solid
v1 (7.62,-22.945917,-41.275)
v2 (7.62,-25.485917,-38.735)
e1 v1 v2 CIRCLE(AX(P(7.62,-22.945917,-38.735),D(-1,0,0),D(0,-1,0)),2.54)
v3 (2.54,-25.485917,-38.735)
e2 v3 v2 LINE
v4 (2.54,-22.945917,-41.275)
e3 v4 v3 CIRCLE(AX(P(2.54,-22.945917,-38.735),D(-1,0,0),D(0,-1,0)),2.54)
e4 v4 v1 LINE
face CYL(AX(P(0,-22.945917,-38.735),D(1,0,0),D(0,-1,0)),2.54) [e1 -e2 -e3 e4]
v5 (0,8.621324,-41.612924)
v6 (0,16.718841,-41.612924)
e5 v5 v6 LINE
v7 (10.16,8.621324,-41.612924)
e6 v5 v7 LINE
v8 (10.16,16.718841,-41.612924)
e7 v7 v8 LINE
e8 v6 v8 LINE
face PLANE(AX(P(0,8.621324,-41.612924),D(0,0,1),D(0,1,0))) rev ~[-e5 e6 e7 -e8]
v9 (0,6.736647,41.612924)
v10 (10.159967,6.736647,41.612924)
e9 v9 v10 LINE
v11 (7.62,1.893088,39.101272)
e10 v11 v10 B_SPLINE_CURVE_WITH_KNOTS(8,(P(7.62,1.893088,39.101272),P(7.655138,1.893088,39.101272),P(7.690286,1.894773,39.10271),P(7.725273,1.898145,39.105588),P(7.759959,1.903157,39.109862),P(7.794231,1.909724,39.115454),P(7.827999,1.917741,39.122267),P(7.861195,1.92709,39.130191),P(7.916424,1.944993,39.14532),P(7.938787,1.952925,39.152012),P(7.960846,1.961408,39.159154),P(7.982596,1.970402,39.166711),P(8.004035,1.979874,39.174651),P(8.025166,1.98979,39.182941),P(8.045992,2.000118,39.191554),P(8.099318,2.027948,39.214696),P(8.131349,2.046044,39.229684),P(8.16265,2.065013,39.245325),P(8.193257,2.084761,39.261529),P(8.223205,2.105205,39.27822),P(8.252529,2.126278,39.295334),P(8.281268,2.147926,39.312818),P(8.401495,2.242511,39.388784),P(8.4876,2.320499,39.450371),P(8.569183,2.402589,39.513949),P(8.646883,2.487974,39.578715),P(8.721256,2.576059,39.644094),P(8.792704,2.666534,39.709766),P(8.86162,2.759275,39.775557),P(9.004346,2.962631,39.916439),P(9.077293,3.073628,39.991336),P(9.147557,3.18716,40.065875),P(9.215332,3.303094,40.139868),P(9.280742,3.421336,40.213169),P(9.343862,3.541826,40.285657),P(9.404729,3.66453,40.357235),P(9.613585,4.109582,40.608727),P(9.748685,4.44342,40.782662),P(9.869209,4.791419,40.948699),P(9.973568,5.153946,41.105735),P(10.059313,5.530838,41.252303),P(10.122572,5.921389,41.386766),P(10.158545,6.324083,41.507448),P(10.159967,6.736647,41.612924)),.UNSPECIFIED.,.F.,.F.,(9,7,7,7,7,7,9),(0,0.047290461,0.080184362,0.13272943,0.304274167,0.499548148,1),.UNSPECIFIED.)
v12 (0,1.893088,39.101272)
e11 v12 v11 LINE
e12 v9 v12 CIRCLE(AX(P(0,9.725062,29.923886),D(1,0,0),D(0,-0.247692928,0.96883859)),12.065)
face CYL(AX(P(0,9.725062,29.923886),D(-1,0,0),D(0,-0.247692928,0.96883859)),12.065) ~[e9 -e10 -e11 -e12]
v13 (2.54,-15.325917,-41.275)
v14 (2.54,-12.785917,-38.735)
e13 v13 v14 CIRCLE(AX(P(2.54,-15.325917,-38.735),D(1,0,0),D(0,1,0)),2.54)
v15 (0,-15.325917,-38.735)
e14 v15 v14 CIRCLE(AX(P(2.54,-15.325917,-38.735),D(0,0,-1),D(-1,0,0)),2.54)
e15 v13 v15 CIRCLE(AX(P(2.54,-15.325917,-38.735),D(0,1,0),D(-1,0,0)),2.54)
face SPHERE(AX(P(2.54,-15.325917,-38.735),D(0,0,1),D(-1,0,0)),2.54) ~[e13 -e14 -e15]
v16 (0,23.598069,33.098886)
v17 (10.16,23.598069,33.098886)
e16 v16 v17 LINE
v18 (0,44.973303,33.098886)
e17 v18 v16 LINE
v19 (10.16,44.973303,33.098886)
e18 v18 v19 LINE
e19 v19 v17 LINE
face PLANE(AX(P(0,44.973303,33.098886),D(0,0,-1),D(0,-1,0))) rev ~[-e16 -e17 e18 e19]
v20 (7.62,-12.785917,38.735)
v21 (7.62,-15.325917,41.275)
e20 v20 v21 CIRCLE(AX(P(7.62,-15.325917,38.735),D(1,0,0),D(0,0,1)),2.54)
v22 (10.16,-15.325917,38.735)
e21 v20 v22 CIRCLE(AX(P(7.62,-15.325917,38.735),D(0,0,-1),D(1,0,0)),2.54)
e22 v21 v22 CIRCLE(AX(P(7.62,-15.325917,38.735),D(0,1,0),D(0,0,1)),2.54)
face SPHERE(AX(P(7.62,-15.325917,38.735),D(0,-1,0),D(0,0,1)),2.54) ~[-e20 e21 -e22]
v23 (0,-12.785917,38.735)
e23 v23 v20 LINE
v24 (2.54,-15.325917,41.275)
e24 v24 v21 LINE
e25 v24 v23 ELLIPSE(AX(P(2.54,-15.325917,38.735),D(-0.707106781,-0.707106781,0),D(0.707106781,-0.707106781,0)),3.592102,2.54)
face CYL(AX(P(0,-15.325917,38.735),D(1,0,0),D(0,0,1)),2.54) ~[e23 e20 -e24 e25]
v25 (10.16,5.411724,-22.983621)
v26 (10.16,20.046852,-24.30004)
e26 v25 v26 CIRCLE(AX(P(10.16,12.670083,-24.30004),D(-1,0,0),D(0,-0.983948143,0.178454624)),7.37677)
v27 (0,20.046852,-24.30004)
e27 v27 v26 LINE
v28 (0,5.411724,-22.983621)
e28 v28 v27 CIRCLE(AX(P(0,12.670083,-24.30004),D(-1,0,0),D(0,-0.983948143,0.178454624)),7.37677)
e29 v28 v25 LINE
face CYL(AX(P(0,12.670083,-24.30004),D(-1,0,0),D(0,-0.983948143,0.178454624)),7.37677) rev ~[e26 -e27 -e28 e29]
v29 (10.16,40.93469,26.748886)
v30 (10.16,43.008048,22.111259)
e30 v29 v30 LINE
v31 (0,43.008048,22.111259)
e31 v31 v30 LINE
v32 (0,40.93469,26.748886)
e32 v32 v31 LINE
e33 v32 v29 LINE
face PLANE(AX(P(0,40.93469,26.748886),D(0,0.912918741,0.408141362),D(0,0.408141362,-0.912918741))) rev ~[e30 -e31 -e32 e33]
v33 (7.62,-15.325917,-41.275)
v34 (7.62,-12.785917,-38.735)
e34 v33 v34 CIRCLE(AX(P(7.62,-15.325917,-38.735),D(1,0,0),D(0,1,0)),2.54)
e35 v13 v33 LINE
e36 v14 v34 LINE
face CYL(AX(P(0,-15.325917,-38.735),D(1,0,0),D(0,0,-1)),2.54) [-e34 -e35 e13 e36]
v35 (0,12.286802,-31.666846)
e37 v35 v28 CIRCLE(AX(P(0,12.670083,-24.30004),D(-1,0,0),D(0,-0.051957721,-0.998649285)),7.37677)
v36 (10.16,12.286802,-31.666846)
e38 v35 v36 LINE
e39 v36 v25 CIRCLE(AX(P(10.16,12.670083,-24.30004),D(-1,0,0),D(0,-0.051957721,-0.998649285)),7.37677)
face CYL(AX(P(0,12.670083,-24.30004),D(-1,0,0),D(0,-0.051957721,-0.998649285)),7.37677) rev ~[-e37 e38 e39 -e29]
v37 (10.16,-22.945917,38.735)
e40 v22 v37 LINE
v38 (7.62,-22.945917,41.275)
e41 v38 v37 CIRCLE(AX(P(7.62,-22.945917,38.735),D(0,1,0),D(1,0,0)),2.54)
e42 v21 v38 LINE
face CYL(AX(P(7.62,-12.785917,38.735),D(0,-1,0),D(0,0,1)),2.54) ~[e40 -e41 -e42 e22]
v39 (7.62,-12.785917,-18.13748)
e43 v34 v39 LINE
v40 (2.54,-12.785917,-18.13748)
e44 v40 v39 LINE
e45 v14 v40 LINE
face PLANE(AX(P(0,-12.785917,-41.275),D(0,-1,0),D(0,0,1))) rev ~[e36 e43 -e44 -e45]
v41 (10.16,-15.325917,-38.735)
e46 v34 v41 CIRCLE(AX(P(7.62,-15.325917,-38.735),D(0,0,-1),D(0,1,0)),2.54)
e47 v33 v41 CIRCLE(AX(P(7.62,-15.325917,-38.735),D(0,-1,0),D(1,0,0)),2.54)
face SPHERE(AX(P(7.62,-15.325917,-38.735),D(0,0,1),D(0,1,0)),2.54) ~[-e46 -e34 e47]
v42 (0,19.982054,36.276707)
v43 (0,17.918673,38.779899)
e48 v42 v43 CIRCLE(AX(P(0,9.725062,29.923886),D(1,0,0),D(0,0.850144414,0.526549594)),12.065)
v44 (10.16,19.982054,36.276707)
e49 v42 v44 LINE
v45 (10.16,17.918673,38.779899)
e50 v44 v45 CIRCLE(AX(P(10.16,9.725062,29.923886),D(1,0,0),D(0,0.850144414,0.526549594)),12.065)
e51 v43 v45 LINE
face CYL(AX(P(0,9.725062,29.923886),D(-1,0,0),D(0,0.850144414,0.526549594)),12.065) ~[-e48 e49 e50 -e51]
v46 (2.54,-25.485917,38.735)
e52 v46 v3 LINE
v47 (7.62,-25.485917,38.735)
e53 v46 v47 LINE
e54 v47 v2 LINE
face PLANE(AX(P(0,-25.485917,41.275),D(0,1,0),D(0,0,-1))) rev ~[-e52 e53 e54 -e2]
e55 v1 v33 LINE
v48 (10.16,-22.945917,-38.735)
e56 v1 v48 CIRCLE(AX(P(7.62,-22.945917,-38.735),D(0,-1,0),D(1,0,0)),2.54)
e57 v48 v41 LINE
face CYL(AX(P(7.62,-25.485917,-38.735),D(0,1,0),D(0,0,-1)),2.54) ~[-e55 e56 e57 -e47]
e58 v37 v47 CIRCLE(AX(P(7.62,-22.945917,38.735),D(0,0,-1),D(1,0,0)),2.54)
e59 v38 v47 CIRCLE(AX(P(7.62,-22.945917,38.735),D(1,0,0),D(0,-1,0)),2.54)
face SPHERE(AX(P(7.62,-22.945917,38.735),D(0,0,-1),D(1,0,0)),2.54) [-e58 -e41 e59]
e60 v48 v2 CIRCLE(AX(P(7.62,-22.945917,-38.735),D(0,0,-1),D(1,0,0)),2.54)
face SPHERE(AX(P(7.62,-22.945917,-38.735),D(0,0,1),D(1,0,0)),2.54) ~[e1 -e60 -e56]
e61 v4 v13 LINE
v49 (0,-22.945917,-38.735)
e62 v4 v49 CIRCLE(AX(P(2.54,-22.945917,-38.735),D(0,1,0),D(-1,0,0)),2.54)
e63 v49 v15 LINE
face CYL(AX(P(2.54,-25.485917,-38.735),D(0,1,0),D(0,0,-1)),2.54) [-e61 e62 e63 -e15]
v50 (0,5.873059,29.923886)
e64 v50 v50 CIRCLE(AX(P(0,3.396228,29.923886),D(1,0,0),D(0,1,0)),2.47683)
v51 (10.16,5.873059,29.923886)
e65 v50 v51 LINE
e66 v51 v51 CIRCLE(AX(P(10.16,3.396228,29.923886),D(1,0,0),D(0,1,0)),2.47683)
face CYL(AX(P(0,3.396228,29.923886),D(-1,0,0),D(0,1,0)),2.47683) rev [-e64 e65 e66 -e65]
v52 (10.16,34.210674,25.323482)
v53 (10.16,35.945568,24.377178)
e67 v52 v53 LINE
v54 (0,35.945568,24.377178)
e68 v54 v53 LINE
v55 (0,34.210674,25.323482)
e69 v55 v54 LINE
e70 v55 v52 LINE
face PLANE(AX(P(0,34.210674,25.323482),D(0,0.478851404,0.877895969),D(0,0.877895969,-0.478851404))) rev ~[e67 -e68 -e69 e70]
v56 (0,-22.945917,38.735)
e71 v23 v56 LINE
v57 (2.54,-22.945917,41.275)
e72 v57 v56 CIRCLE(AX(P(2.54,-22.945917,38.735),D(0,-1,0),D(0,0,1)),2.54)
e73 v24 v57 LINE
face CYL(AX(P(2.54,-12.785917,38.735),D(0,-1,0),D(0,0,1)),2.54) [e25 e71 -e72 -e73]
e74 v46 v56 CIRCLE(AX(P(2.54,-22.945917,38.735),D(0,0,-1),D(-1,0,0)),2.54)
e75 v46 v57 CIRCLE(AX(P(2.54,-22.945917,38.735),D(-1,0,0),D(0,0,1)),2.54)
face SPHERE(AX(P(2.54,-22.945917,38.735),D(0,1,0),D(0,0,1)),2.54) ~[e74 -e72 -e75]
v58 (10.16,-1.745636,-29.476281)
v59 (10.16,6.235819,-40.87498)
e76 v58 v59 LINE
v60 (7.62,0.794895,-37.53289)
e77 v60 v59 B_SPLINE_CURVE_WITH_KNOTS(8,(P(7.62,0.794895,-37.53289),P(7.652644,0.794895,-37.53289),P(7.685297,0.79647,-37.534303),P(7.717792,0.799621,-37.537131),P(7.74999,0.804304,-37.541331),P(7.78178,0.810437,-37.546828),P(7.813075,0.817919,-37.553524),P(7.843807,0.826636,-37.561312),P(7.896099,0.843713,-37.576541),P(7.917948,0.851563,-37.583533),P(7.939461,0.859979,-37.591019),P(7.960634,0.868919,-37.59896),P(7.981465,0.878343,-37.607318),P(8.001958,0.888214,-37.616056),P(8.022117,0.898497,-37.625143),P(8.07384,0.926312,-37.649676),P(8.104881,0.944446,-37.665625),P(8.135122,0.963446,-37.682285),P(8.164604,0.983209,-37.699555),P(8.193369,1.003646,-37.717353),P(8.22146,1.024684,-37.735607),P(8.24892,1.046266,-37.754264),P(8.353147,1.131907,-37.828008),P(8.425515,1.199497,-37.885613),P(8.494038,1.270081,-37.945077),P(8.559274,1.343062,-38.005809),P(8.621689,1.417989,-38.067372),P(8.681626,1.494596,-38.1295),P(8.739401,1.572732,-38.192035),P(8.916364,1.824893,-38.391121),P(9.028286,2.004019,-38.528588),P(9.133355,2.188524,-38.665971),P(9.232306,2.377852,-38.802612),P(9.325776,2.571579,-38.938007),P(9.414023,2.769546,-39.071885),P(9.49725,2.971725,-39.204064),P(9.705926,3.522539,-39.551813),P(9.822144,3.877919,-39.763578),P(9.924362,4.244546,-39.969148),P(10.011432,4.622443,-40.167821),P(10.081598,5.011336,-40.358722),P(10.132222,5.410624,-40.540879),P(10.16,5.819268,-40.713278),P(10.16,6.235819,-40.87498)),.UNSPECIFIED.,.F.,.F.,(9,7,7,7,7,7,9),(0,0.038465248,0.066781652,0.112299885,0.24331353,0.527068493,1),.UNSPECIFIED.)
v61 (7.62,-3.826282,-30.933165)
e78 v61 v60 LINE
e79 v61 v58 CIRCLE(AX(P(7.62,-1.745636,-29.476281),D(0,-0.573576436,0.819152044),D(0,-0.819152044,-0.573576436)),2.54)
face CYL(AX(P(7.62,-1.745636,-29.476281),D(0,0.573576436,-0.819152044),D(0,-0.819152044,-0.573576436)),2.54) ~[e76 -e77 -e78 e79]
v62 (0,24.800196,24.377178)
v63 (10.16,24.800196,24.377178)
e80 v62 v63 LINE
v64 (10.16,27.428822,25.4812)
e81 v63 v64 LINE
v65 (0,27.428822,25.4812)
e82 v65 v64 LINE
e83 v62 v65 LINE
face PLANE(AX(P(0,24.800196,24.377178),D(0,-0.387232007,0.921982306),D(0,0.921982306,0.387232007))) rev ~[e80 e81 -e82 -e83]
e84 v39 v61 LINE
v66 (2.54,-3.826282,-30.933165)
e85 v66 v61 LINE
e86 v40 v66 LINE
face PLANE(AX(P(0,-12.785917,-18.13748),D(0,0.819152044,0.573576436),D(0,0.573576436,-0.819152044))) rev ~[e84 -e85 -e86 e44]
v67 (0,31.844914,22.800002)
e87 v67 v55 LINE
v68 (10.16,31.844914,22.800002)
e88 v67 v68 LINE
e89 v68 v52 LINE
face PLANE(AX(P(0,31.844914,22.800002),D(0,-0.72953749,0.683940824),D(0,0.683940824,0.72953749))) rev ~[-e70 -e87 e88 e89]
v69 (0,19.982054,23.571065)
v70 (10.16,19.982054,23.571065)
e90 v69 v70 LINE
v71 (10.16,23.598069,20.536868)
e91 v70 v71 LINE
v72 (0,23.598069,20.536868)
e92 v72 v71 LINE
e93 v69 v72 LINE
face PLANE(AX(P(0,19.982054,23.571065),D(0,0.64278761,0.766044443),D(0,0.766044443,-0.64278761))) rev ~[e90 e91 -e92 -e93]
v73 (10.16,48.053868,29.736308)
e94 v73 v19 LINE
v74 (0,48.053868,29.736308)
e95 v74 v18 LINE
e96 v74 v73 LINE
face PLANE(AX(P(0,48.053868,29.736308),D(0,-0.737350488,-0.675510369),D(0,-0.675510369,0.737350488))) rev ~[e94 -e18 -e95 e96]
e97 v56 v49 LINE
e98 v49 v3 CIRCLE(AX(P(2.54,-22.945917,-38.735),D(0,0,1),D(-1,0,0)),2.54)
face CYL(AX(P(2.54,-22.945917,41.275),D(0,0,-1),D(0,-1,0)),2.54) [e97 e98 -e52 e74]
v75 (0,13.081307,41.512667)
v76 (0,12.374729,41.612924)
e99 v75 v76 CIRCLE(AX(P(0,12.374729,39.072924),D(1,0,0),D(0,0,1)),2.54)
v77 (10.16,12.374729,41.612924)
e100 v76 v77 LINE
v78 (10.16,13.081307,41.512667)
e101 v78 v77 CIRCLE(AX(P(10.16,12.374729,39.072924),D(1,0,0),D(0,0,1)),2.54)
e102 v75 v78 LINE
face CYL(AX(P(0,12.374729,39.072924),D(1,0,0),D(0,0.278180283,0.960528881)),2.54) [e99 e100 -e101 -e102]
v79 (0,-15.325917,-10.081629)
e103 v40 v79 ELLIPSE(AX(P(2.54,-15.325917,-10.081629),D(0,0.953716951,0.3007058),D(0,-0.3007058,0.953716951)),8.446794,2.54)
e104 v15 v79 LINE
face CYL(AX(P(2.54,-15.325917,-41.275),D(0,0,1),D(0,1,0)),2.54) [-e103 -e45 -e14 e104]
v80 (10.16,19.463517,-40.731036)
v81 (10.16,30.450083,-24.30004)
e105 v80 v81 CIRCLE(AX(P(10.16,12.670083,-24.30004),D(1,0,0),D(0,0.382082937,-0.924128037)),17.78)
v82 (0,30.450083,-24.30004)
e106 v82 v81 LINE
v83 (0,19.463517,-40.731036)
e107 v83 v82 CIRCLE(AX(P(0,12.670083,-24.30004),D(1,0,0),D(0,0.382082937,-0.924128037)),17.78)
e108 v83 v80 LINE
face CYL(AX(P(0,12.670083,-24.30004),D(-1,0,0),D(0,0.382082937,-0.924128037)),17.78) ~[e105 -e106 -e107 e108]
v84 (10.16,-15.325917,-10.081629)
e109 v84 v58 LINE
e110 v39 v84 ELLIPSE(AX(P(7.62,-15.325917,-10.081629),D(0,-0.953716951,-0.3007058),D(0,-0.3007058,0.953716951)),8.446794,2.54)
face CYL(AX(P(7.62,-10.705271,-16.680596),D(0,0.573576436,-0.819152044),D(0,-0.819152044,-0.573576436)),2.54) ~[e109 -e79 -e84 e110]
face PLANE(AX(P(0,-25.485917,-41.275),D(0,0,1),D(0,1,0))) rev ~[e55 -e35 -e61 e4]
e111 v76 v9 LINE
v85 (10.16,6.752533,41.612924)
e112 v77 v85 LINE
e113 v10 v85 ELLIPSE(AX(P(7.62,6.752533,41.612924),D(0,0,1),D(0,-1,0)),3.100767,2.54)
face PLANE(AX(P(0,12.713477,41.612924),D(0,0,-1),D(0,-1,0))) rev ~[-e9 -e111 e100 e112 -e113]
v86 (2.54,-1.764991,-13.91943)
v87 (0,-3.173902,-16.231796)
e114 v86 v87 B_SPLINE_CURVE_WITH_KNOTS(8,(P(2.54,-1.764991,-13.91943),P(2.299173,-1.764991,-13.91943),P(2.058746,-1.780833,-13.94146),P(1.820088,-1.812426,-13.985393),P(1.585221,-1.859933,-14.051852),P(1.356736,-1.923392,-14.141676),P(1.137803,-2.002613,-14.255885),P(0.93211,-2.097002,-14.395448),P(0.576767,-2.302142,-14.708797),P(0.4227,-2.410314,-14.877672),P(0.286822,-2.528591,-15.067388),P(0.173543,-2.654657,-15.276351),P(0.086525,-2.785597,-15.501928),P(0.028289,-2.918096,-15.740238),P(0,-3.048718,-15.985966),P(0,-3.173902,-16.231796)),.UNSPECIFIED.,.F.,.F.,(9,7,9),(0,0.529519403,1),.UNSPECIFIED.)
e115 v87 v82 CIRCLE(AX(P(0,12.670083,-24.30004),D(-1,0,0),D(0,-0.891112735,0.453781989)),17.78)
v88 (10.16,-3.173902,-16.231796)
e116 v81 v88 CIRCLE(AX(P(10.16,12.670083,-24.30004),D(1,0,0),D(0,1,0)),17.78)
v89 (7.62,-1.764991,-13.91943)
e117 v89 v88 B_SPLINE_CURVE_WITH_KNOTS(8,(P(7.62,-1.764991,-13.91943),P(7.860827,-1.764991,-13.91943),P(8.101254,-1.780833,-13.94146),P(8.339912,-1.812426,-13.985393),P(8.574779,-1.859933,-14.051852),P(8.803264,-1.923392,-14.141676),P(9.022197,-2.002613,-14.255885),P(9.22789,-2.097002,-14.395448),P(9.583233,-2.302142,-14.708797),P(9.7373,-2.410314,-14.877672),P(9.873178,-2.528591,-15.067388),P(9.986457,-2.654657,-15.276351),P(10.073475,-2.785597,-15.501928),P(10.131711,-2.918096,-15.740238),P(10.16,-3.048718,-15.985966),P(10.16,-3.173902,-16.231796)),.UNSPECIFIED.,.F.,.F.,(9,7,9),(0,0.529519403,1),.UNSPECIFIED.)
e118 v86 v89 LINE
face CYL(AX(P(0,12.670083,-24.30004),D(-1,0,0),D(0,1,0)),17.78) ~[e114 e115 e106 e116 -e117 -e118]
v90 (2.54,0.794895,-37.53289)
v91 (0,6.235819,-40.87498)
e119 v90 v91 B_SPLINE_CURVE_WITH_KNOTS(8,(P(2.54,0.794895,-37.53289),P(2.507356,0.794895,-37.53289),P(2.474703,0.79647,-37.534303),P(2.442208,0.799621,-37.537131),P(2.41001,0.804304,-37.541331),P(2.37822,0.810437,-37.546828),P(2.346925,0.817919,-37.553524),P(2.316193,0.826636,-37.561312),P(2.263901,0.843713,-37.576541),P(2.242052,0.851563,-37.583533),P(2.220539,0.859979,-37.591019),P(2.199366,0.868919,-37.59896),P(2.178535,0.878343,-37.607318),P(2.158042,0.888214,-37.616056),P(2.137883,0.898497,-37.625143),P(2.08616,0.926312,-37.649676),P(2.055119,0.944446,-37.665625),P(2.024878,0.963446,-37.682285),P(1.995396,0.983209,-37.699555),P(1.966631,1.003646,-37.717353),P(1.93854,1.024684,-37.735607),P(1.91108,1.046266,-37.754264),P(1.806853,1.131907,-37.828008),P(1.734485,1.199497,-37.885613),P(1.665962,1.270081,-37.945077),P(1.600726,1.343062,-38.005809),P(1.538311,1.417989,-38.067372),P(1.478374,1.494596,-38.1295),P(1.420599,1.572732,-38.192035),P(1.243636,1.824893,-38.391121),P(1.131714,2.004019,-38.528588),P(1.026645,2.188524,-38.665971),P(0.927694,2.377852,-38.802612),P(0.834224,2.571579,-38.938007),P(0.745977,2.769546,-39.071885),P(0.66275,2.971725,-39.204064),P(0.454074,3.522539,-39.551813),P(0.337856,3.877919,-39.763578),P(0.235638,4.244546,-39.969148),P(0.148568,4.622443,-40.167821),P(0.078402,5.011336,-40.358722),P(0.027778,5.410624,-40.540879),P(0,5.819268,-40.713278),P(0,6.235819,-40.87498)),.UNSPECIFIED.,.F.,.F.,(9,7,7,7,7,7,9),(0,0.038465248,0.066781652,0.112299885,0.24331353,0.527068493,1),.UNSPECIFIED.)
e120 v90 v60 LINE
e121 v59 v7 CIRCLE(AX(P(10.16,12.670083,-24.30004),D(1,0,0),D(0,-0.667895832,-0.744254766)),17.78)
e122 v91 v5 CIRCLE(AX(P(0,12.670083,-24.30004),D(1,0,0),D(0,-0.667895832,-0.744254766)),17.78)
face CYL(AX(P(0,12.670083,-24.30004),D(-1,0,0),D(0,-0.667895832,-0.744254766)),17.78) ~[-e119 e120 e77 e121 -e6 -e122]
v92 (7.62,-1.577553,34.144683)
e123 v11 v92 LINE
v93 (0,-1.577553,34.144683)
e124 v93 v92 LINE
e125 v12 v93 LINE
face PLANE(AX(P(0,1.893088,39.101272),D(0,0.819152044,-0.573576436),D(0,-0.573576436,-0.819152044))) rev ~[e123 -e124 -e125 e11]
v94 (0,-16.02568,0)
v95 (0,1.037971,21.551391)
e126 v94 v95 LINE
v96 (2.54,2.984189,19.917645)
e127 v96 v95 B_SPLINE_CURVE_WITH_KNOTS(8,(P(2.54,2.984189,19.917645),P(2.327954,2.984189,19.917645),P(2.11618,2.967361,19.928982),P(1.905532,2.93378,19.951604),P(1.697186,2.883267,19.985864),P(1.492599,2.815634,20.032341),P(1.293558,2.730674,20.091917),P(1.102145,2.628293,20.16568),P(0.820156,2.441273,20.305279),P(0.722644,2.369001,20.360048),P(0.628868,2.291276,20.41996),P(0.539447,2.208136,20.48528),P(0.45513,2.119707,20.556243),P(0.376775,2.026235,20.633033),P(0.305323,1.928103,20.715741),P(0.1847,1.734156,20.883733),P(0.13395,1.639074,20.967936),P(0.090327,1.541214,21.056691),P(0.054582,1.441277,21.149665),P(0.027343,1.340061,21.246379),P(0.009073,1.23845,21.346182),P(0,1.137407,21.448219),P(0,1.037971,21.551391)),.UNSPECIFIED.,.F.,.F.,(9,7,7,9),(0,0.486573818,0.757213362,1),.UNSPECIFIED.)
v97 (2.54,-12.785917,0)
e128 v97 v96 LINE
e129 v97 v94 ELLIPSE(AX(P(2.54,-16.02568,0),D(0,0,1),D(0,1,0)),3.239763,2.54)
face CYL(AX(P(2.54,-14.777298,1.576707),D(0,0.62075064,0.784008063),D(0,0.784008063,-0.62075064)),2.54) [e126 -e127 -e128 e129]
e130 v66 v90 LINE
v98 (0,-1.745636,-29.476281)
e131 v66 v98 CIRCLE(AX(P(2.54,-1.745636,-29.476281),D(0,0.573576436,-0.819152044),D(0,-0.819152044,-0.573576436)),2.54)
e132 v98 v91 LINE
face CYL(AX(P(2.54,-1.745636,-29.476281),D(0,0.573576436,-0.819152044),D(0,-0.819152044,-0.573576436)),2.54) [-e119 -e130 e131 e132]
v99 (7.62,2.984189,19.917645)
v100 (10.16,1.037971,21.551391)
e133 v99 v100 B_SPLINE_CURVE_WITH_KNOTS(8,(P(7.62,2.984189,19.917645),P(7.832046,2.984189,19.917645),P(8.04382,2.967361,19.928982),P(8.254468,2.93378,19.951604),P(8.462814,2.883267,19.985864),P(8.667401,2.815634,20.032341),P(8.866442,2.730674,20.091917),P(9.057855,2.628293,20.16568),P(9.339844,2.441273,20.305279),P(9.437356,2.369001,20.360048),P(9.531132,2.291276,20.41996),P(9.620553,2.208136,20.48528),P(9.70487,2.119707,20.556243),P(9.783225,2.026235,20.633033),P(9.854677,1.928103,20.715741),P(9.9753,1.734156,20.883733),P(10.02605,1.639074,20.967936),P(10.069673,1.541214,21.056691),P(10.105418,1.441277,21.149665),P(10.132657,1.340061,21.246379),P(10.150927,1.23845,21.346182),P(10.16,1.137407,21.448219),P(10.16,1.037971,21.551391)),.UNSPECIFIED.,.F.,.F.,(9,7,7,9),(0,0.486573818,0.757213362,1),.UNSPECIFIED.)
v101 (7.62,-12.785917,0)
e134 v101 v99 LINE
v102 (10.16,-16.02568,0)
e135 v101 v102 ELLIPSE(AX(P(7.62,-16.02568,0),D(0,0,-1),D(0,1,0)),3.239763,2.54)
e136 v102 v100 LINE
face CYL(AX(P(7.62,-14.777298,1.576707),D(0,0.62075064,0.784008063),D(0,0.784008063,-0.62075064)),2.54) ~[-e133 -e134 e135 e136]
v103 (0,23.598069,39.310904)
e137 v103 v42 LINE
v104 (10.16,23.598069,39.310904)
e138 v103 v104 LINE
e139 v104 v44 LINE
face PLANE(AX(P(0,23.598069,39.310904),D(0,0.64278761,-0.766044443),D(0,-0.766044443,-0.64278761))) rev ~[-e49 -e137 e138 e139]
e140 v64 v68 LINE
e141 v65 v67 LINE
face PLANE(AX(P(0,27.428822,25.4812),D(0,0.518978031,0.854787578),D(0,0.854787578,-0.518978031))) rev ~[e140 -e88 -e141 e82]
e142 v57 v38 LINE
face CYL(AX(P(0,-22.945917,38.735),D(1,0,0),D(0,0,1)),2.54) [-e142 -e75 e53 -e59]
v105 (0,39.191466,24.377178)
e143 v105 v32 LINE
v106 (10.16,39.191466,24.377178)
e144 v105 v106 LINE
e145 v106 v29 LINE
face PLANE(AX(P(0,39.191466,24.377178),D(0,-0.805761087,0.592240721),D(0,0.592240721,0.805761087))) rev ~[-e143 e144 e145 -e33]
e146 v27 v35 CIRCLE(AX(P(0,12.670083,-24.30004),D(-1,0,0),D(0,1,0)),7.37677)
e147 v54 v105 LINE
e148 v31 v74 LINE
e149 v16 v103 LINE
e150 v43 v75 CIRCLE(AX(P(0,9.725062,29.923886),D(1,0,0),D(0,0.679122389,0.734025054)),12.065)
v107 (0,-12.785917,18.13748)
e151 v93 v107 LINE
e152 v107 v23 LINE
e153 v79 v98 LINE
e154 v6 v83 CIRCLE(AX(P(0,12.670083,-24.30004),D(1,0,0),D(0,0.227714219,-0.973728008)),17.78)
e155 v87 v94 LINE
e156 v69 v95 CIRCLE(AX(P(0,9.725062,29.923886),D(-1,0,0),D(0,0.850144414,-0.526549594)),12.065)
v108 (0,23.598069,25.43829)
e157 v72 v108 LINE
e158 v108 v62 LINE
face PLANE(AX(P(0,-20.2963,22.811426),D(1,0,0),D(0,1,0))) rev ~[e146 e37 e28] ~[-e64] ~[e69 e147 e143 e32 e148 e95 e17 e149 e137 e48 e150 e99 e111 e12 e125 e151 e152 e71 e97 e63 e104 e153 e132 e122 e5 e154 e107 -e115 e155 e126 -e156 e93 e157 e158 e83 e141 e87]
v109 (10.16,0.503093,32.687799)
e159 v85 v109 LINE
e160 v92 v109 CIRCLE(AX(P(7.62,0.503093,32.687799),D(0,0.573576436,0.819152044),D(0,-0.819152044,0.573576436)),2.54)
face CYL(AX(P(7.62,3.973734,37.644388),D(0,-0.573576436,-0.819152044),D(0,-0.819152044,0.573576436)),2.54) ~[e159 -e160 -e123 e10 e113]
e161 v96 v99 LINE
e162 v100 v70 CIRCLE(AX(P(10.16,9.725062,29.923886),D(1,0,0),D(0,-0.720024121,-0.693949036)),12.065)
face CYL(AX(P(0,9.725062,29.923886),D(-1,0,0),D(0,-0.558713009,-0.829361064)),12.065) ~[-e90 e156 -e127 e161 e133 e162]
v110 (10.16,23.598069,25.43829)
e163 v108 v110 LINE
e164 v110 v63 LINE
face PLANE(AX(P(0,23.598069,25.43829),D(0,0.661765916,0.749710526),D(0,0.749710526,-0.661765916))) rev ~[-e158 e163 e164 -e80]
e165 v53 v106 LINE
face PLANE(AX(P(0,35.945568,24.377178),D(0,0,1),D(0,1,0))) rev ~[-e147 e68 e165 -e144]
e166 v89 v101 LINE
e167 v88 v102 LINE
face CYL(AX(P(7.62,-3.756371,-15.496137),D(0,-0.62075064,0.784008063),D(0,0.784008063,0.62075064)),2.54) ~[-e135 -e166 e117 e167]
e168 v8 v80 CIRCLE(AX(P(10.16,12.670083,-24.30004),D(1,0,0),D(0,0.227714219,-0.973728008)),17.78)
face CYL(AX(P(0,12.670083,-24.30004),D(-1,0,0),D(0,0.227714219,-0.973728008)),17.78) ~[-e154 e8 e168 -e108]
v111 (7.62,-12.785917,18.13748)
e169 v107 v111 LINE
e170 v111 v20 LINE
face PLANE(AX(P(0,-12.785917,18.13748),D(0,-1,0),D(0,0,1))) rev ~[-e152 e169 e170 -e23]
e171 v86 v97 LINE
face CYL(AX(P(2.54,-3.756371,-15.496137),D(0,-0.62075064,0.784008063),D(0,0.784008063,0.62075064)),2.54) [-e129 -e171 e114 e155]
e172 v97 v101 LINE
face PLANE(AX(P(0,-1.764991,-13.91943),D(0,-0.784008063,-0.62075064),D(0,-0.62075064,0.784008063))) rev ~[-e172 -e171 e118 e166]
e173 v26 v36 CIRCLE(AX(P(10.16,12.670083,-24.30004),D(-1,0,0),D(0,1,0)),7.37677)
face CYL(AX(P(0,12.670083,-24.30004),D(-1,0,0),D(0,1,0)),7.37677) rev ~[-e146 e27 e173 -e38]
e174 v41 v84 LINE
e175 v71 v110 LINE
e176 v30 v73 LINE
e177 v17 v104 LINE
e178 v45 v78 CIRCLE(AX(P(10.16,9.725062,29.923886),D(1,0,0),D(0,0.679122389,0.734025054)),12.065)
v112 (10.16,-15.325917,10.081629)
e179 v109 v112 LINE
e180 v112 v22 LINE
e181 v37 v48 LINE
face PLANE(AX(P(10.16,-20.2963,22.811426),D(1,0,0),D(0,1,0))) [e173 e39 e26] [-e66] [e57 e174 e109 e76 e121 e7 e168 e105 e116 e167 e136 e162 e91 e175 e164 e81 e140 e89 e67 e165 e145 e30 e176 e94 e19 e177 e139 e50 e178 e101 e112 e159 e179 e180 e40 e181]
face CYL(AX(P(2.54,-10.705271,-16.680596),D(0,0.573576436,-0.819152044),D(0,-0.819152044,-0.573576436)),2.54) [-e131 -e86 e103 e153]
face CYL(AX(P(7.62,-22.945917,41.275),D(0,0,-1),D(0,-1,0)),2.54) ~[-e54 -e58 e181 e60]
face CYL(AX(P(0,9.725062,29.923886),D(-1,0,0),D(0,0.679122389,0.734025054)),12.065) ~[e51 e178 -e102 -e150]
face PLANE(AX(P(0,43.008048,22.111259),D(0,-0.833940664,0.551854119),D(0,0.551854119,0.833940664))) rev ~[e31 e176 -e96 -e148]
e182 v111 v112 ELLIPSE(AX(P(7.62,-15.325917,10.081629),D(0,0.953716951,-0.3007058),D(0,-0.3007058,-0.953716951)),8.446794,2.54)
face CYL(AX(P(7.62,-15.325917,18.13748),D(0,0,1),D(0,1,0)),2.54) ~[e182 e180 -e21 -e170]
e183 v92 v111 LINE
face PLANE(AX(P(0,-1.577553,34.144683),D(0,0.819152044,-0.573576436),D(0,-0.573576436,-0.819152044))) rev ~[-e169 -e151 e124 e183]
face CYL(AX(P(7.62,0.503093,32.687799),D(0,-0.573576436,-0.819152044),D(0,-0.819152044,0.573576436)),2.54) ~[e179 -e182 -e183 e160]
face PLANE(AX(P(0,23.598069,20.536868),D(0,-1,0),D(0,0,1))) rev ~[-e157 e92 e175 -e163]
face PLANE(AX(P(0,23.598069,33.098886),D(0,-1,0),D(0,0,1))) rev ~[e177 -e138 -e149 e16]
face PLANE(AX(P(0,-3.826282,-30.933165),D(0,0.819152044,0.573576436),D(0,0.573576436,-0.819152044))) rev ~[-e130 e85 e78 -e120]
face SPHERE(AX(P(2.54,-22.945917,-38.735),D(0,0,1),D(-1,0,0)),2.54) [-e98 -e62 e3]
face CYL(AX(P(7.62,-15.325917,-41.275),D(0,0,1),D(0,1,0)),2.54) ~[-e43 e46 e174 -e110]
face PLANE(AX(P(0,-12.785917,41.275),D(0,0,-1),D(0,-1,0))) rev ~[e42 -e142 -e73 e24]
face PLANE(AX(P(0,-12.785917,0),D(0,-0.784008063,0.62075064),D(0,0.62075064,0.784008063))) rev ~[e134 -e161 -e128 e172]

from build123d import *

# Parameters (mm, degrees)
F0_R     = 2.476830384
F0_W     = 1.4847664508
F0_H     = 6.35
F1_DEPTH = 10.16
F2_R     = 2.54


with BuildPart() as f1:
    # F0 (on Right) → F1 (new body)
    with BuildSketch(Plane.YZ):
        Polygon((-12.7859174941, 41.275), (-25.4859174941, 41.275), (-25.4859174941, 0), (-12.7859174941, 18.1374796856), align=None)
        Polygon((-12.7859174941, 18.1374796856), (-25.4859174941, 0), (-12.7859174941, -18.1374796856), (-12.7859174941, 0), align=None)
        with BuildLine():
            Line((-12.7859174941, 0), (-12.7859174941, -18.1374796856))
            Line((-12.7859174941, -18.1374796856), (-3.8262820868, -30.9331651338))
            ThreePointArc((-3.8262820868, -30.9331651338), (-4.9808453905, -22.1615497886), (-1.7649908775, -13.9194304048))
            Line((-1.7649908775, -13.9194304048), (-12.7859174941, 0))
        make_face()
        Polygon((-12.7859174941, -18.1374796856), (-25.4859174941, 0), (-25.4859174941, -41.275), (-12.7859174941, -41.275), align=None)
        with BuildLine():
            ThreePointArc((-1.7649908775, -13.9194304048), (-4.9808453905, -22.1615497886), (-3.8262820868, -30.9331651338))
            Line((-3.8262820868, -30.9331651338), (0.7948947361, -37.5328896022))
            ThreePointArc((0.7948947361, -37.5328896022), (4.4509166454, -40.0662604083), (8.6213238247, -41.6129238499))
            Line((8.6213238247, -41.6129238499), (16.7188414486, -41.6129238499))
            ThreePointArc((16.7188414486, -41.6129238499), (18.1090826399, -41.2277000329), (19.4635172648, -40.731036358))
            Line((19.4635172648, -40.731036358), (12.2868024965, -31.6668455484))
            ThreePointArc((12.2868024965, -31.6668455484), (6.8866357903, -28.8791743085), (5.4117238908, -22.9836212144))
            Line((5.4117238908, -22.9836212144), (-1.7649908775, -13.9194304048))
        make_face()
        with BuildLine():
            ThreePointArc((30.4500826367, -24.300039859), (18.1231915168, -7.3769194747), (-1.7649908775, -13.9194304048))
            Line((-1.7649908775, -13.9194304048), (5.4117238908, -22.9836212144))
            ThreePointArc((5.4117238908, -22.9836212144), (13.3309493362, -16.9529326094), (20.0468522367, -24.300039859))
            ThreePointArc((20.0468522367, -24.300039859), (17.7489289843, -29.6499977568), (12.2868024965, -31.6668455484))
            Line((12.2868024965, -31.6668455484), (19.4635172648, -40.731036358))
            ThreePointArc((19.4635172648, -40.731036358), (27.4504017754, -34.182881867), (30.4500826367, -24.300039859))
        make_face()
        with BuildLine():
            Line((-1.5775528515, 34.1446833088), (-12.7859174941, 18.1374796856))
            Line((-12.7859174941, 18.1374796856), (-12.7859174941, 0))
            Line((-12.7859174941, 0), (2.9841893191, 19.9176450311))
            ThreePointArc((2.9841893191, 19.9176450311), (-1.763802881, 26.2401091232), (-1.5775528515, 34.1446833088))
        make_face()
        with BuildLine():
            Line((17.9186733985, 38.7798985425), (2.9841893191, 19.9176450311))
            ThreePointArc((2.9841893191, 19.9176450311), (12.2603418149, 18.1282692763), (19.9820541252, 23.5710654062))
            Line((19.9820541252, 23.5710654062), (19.9820541252, 36.2767071198))
            ThreePointArc((19.9820541252, 36.2767071198), (19.0348785601, 37.5979683806), (17.9186733985, 38.7798985425))
        make_face()
        with BuildLine():
            Line((1.8930880599, 39.1012722086), (-1.5775528515, 34.1446833088))
            ThreePointArc((-1.5775528515, 34.1446833088), (-1.763802881, 26.2401091232), (2.9841893191, 19.9176450311))
            Line((2.9841893191, 19.9176450311), (17.9186733985, 38.7798985425))
            ThreePointArc((17.9186733985, 38.7798985425), (15.4927249878, 40.5209748262), (12.7134769516, 41.6129238499))
            Line((12.7134769516, 41.6129238499), (6.7366465898, 41.6129238499))
            ThreePointArc((6.7366465898, 41.6129238499), (4.171026982, 40.6344848722), (1.8930880599, 39.1012722086))
        make_face()
        with Locations((3.3962282663, 29.923886263)):
            Circle(F0_R, mode=Mode.SUBTRACT)
        Polygon((23.5980694161, 39.3109042168), (19.9820541252, 36.2767071198), (23.5980694161, 36.2767071198), align=None)
        with BuildLine():
            ThreePointArc((21.7900617707, 29.923886263), (21.3292601006, 26.6213408627), (19.9820541252, 23.5710654062))
            Line((19.9820541252, 23.5710654062), (23.5980694161, 23.5710654062))
            Line((23.5980694161, 23.5710654062), (23.5980694161, 25.4382899789))
            Line((23.5980694161, 25.4382899789), (22.1133029653, 26.748886263))
            Line((22.1133029653, 26.748886263), (22.1133029653, 33.098886263))
            Line((22.1133029653, 33.098886263), (23.5980694161, 33.098886263))
            Line((23.5980694161, 33.098886263), (23.5980694161, 36.2767071198))
            Line((23.5980694161, 36.2767071198), (19.9820541252, 36.2767071198))
            ThreePointArc((19.9820541252, 36.2767071198), (21.3292601006, 33.2264316634), (21.7900617707, 29.923886263))
        make_face()
        with BuildLine():
            Line((19.9820541252, 36.2767071198), (19.9820541252, 23.5710654062))
            ThreePointArc((19.9820541252, 23.5710654062), (21.3292601006, 26.6213408627), (21.7900617707, 29.923886263))
            ThreePointArc((21.7900617707, 29.923886263), (21.3292601006, 33.2264316634), (19.9820541252, 36.2767071198))
        make_face()
        with Locations((22.8556861907, 29.923886263)):
            Rectangle(F0_W, F0_H)
        Polygon((22.1133029653, 26.748886263), (23.5980694161, 25.4382899789), (23.5980694161, 26.748886263), align=None)
        Polygon((23.5980694161, 23.5710654062), (19.9820541252, 23.5710654062), (23.5980694161, 20.5368683093), align=None)
        Polygon((44.9733029653, 33.098886263), (23.5980694161, 33.098886263), (23.5980694161, 26.748886263), (40.9346896774, 26.748886263), (44.9733029653, 26.748886263), align=None)
        Polygon((23.5980694161, 26.748886263), (23.5980694161, 25.4382899789), (24.8001961815, 24.3771784008), (27.4288224834, 25.4811998457), (31.844913851, 22.8000022471), (34.2106743562, 25.3234822303), (35.9455681252, 24.3771784008), (39.1914657905, 24.3771784008), (40.9346896774, 26.748886263), align=None)
        Polygon((48.0538682116, 29.7363082874), (44.9733029653, 33.098886263), (44.9733029653, 26.748886263), (40.9346896774, 26.748886263), (43.0080477987, 22.1112590571), align=None)
    extrude(amount=F1_DEPTH)

    # F2
    f2_edges = [f1.edges().sort_by_distance(p)[0] for p in [
        (10.16, -25.485917, 0),
        (10.16, -19.135917, 41.275),
        (5.08, -12.785917, 41.275),
        (0, -19.135917, 41.275),
        (5.08, -25.485917, 41.275),
        (0, -25.485917, 0),
        (10.16, -5.446415, 28.619376),
        (10.16, -12.785917, 29.70624),
        (10.16, -4.900864, 9.958823),
        (0, -4.900864, 9.958823),
        (10.16, -7.275454, -6.959715),
        (0, -7.275454, -6.959715),
        (10.16, -12.785917, -29.70624),
        (0, -12.785917, -29.70624),
        (0, -19.135917, -41.275),
        (5.08, -12.785917, -41.275),
        (10.16, -19.135917, -41.275),
        (5.08, -25.485917, -41.275),
        (5.08, 12.713477, 41.612924),
        (10.16, -5.995511, -27.835185),
        (0, -5.995511, -27.835185),
    ]]
    fillet(f2_edges, radius=F2_R)


solid = f1.part
